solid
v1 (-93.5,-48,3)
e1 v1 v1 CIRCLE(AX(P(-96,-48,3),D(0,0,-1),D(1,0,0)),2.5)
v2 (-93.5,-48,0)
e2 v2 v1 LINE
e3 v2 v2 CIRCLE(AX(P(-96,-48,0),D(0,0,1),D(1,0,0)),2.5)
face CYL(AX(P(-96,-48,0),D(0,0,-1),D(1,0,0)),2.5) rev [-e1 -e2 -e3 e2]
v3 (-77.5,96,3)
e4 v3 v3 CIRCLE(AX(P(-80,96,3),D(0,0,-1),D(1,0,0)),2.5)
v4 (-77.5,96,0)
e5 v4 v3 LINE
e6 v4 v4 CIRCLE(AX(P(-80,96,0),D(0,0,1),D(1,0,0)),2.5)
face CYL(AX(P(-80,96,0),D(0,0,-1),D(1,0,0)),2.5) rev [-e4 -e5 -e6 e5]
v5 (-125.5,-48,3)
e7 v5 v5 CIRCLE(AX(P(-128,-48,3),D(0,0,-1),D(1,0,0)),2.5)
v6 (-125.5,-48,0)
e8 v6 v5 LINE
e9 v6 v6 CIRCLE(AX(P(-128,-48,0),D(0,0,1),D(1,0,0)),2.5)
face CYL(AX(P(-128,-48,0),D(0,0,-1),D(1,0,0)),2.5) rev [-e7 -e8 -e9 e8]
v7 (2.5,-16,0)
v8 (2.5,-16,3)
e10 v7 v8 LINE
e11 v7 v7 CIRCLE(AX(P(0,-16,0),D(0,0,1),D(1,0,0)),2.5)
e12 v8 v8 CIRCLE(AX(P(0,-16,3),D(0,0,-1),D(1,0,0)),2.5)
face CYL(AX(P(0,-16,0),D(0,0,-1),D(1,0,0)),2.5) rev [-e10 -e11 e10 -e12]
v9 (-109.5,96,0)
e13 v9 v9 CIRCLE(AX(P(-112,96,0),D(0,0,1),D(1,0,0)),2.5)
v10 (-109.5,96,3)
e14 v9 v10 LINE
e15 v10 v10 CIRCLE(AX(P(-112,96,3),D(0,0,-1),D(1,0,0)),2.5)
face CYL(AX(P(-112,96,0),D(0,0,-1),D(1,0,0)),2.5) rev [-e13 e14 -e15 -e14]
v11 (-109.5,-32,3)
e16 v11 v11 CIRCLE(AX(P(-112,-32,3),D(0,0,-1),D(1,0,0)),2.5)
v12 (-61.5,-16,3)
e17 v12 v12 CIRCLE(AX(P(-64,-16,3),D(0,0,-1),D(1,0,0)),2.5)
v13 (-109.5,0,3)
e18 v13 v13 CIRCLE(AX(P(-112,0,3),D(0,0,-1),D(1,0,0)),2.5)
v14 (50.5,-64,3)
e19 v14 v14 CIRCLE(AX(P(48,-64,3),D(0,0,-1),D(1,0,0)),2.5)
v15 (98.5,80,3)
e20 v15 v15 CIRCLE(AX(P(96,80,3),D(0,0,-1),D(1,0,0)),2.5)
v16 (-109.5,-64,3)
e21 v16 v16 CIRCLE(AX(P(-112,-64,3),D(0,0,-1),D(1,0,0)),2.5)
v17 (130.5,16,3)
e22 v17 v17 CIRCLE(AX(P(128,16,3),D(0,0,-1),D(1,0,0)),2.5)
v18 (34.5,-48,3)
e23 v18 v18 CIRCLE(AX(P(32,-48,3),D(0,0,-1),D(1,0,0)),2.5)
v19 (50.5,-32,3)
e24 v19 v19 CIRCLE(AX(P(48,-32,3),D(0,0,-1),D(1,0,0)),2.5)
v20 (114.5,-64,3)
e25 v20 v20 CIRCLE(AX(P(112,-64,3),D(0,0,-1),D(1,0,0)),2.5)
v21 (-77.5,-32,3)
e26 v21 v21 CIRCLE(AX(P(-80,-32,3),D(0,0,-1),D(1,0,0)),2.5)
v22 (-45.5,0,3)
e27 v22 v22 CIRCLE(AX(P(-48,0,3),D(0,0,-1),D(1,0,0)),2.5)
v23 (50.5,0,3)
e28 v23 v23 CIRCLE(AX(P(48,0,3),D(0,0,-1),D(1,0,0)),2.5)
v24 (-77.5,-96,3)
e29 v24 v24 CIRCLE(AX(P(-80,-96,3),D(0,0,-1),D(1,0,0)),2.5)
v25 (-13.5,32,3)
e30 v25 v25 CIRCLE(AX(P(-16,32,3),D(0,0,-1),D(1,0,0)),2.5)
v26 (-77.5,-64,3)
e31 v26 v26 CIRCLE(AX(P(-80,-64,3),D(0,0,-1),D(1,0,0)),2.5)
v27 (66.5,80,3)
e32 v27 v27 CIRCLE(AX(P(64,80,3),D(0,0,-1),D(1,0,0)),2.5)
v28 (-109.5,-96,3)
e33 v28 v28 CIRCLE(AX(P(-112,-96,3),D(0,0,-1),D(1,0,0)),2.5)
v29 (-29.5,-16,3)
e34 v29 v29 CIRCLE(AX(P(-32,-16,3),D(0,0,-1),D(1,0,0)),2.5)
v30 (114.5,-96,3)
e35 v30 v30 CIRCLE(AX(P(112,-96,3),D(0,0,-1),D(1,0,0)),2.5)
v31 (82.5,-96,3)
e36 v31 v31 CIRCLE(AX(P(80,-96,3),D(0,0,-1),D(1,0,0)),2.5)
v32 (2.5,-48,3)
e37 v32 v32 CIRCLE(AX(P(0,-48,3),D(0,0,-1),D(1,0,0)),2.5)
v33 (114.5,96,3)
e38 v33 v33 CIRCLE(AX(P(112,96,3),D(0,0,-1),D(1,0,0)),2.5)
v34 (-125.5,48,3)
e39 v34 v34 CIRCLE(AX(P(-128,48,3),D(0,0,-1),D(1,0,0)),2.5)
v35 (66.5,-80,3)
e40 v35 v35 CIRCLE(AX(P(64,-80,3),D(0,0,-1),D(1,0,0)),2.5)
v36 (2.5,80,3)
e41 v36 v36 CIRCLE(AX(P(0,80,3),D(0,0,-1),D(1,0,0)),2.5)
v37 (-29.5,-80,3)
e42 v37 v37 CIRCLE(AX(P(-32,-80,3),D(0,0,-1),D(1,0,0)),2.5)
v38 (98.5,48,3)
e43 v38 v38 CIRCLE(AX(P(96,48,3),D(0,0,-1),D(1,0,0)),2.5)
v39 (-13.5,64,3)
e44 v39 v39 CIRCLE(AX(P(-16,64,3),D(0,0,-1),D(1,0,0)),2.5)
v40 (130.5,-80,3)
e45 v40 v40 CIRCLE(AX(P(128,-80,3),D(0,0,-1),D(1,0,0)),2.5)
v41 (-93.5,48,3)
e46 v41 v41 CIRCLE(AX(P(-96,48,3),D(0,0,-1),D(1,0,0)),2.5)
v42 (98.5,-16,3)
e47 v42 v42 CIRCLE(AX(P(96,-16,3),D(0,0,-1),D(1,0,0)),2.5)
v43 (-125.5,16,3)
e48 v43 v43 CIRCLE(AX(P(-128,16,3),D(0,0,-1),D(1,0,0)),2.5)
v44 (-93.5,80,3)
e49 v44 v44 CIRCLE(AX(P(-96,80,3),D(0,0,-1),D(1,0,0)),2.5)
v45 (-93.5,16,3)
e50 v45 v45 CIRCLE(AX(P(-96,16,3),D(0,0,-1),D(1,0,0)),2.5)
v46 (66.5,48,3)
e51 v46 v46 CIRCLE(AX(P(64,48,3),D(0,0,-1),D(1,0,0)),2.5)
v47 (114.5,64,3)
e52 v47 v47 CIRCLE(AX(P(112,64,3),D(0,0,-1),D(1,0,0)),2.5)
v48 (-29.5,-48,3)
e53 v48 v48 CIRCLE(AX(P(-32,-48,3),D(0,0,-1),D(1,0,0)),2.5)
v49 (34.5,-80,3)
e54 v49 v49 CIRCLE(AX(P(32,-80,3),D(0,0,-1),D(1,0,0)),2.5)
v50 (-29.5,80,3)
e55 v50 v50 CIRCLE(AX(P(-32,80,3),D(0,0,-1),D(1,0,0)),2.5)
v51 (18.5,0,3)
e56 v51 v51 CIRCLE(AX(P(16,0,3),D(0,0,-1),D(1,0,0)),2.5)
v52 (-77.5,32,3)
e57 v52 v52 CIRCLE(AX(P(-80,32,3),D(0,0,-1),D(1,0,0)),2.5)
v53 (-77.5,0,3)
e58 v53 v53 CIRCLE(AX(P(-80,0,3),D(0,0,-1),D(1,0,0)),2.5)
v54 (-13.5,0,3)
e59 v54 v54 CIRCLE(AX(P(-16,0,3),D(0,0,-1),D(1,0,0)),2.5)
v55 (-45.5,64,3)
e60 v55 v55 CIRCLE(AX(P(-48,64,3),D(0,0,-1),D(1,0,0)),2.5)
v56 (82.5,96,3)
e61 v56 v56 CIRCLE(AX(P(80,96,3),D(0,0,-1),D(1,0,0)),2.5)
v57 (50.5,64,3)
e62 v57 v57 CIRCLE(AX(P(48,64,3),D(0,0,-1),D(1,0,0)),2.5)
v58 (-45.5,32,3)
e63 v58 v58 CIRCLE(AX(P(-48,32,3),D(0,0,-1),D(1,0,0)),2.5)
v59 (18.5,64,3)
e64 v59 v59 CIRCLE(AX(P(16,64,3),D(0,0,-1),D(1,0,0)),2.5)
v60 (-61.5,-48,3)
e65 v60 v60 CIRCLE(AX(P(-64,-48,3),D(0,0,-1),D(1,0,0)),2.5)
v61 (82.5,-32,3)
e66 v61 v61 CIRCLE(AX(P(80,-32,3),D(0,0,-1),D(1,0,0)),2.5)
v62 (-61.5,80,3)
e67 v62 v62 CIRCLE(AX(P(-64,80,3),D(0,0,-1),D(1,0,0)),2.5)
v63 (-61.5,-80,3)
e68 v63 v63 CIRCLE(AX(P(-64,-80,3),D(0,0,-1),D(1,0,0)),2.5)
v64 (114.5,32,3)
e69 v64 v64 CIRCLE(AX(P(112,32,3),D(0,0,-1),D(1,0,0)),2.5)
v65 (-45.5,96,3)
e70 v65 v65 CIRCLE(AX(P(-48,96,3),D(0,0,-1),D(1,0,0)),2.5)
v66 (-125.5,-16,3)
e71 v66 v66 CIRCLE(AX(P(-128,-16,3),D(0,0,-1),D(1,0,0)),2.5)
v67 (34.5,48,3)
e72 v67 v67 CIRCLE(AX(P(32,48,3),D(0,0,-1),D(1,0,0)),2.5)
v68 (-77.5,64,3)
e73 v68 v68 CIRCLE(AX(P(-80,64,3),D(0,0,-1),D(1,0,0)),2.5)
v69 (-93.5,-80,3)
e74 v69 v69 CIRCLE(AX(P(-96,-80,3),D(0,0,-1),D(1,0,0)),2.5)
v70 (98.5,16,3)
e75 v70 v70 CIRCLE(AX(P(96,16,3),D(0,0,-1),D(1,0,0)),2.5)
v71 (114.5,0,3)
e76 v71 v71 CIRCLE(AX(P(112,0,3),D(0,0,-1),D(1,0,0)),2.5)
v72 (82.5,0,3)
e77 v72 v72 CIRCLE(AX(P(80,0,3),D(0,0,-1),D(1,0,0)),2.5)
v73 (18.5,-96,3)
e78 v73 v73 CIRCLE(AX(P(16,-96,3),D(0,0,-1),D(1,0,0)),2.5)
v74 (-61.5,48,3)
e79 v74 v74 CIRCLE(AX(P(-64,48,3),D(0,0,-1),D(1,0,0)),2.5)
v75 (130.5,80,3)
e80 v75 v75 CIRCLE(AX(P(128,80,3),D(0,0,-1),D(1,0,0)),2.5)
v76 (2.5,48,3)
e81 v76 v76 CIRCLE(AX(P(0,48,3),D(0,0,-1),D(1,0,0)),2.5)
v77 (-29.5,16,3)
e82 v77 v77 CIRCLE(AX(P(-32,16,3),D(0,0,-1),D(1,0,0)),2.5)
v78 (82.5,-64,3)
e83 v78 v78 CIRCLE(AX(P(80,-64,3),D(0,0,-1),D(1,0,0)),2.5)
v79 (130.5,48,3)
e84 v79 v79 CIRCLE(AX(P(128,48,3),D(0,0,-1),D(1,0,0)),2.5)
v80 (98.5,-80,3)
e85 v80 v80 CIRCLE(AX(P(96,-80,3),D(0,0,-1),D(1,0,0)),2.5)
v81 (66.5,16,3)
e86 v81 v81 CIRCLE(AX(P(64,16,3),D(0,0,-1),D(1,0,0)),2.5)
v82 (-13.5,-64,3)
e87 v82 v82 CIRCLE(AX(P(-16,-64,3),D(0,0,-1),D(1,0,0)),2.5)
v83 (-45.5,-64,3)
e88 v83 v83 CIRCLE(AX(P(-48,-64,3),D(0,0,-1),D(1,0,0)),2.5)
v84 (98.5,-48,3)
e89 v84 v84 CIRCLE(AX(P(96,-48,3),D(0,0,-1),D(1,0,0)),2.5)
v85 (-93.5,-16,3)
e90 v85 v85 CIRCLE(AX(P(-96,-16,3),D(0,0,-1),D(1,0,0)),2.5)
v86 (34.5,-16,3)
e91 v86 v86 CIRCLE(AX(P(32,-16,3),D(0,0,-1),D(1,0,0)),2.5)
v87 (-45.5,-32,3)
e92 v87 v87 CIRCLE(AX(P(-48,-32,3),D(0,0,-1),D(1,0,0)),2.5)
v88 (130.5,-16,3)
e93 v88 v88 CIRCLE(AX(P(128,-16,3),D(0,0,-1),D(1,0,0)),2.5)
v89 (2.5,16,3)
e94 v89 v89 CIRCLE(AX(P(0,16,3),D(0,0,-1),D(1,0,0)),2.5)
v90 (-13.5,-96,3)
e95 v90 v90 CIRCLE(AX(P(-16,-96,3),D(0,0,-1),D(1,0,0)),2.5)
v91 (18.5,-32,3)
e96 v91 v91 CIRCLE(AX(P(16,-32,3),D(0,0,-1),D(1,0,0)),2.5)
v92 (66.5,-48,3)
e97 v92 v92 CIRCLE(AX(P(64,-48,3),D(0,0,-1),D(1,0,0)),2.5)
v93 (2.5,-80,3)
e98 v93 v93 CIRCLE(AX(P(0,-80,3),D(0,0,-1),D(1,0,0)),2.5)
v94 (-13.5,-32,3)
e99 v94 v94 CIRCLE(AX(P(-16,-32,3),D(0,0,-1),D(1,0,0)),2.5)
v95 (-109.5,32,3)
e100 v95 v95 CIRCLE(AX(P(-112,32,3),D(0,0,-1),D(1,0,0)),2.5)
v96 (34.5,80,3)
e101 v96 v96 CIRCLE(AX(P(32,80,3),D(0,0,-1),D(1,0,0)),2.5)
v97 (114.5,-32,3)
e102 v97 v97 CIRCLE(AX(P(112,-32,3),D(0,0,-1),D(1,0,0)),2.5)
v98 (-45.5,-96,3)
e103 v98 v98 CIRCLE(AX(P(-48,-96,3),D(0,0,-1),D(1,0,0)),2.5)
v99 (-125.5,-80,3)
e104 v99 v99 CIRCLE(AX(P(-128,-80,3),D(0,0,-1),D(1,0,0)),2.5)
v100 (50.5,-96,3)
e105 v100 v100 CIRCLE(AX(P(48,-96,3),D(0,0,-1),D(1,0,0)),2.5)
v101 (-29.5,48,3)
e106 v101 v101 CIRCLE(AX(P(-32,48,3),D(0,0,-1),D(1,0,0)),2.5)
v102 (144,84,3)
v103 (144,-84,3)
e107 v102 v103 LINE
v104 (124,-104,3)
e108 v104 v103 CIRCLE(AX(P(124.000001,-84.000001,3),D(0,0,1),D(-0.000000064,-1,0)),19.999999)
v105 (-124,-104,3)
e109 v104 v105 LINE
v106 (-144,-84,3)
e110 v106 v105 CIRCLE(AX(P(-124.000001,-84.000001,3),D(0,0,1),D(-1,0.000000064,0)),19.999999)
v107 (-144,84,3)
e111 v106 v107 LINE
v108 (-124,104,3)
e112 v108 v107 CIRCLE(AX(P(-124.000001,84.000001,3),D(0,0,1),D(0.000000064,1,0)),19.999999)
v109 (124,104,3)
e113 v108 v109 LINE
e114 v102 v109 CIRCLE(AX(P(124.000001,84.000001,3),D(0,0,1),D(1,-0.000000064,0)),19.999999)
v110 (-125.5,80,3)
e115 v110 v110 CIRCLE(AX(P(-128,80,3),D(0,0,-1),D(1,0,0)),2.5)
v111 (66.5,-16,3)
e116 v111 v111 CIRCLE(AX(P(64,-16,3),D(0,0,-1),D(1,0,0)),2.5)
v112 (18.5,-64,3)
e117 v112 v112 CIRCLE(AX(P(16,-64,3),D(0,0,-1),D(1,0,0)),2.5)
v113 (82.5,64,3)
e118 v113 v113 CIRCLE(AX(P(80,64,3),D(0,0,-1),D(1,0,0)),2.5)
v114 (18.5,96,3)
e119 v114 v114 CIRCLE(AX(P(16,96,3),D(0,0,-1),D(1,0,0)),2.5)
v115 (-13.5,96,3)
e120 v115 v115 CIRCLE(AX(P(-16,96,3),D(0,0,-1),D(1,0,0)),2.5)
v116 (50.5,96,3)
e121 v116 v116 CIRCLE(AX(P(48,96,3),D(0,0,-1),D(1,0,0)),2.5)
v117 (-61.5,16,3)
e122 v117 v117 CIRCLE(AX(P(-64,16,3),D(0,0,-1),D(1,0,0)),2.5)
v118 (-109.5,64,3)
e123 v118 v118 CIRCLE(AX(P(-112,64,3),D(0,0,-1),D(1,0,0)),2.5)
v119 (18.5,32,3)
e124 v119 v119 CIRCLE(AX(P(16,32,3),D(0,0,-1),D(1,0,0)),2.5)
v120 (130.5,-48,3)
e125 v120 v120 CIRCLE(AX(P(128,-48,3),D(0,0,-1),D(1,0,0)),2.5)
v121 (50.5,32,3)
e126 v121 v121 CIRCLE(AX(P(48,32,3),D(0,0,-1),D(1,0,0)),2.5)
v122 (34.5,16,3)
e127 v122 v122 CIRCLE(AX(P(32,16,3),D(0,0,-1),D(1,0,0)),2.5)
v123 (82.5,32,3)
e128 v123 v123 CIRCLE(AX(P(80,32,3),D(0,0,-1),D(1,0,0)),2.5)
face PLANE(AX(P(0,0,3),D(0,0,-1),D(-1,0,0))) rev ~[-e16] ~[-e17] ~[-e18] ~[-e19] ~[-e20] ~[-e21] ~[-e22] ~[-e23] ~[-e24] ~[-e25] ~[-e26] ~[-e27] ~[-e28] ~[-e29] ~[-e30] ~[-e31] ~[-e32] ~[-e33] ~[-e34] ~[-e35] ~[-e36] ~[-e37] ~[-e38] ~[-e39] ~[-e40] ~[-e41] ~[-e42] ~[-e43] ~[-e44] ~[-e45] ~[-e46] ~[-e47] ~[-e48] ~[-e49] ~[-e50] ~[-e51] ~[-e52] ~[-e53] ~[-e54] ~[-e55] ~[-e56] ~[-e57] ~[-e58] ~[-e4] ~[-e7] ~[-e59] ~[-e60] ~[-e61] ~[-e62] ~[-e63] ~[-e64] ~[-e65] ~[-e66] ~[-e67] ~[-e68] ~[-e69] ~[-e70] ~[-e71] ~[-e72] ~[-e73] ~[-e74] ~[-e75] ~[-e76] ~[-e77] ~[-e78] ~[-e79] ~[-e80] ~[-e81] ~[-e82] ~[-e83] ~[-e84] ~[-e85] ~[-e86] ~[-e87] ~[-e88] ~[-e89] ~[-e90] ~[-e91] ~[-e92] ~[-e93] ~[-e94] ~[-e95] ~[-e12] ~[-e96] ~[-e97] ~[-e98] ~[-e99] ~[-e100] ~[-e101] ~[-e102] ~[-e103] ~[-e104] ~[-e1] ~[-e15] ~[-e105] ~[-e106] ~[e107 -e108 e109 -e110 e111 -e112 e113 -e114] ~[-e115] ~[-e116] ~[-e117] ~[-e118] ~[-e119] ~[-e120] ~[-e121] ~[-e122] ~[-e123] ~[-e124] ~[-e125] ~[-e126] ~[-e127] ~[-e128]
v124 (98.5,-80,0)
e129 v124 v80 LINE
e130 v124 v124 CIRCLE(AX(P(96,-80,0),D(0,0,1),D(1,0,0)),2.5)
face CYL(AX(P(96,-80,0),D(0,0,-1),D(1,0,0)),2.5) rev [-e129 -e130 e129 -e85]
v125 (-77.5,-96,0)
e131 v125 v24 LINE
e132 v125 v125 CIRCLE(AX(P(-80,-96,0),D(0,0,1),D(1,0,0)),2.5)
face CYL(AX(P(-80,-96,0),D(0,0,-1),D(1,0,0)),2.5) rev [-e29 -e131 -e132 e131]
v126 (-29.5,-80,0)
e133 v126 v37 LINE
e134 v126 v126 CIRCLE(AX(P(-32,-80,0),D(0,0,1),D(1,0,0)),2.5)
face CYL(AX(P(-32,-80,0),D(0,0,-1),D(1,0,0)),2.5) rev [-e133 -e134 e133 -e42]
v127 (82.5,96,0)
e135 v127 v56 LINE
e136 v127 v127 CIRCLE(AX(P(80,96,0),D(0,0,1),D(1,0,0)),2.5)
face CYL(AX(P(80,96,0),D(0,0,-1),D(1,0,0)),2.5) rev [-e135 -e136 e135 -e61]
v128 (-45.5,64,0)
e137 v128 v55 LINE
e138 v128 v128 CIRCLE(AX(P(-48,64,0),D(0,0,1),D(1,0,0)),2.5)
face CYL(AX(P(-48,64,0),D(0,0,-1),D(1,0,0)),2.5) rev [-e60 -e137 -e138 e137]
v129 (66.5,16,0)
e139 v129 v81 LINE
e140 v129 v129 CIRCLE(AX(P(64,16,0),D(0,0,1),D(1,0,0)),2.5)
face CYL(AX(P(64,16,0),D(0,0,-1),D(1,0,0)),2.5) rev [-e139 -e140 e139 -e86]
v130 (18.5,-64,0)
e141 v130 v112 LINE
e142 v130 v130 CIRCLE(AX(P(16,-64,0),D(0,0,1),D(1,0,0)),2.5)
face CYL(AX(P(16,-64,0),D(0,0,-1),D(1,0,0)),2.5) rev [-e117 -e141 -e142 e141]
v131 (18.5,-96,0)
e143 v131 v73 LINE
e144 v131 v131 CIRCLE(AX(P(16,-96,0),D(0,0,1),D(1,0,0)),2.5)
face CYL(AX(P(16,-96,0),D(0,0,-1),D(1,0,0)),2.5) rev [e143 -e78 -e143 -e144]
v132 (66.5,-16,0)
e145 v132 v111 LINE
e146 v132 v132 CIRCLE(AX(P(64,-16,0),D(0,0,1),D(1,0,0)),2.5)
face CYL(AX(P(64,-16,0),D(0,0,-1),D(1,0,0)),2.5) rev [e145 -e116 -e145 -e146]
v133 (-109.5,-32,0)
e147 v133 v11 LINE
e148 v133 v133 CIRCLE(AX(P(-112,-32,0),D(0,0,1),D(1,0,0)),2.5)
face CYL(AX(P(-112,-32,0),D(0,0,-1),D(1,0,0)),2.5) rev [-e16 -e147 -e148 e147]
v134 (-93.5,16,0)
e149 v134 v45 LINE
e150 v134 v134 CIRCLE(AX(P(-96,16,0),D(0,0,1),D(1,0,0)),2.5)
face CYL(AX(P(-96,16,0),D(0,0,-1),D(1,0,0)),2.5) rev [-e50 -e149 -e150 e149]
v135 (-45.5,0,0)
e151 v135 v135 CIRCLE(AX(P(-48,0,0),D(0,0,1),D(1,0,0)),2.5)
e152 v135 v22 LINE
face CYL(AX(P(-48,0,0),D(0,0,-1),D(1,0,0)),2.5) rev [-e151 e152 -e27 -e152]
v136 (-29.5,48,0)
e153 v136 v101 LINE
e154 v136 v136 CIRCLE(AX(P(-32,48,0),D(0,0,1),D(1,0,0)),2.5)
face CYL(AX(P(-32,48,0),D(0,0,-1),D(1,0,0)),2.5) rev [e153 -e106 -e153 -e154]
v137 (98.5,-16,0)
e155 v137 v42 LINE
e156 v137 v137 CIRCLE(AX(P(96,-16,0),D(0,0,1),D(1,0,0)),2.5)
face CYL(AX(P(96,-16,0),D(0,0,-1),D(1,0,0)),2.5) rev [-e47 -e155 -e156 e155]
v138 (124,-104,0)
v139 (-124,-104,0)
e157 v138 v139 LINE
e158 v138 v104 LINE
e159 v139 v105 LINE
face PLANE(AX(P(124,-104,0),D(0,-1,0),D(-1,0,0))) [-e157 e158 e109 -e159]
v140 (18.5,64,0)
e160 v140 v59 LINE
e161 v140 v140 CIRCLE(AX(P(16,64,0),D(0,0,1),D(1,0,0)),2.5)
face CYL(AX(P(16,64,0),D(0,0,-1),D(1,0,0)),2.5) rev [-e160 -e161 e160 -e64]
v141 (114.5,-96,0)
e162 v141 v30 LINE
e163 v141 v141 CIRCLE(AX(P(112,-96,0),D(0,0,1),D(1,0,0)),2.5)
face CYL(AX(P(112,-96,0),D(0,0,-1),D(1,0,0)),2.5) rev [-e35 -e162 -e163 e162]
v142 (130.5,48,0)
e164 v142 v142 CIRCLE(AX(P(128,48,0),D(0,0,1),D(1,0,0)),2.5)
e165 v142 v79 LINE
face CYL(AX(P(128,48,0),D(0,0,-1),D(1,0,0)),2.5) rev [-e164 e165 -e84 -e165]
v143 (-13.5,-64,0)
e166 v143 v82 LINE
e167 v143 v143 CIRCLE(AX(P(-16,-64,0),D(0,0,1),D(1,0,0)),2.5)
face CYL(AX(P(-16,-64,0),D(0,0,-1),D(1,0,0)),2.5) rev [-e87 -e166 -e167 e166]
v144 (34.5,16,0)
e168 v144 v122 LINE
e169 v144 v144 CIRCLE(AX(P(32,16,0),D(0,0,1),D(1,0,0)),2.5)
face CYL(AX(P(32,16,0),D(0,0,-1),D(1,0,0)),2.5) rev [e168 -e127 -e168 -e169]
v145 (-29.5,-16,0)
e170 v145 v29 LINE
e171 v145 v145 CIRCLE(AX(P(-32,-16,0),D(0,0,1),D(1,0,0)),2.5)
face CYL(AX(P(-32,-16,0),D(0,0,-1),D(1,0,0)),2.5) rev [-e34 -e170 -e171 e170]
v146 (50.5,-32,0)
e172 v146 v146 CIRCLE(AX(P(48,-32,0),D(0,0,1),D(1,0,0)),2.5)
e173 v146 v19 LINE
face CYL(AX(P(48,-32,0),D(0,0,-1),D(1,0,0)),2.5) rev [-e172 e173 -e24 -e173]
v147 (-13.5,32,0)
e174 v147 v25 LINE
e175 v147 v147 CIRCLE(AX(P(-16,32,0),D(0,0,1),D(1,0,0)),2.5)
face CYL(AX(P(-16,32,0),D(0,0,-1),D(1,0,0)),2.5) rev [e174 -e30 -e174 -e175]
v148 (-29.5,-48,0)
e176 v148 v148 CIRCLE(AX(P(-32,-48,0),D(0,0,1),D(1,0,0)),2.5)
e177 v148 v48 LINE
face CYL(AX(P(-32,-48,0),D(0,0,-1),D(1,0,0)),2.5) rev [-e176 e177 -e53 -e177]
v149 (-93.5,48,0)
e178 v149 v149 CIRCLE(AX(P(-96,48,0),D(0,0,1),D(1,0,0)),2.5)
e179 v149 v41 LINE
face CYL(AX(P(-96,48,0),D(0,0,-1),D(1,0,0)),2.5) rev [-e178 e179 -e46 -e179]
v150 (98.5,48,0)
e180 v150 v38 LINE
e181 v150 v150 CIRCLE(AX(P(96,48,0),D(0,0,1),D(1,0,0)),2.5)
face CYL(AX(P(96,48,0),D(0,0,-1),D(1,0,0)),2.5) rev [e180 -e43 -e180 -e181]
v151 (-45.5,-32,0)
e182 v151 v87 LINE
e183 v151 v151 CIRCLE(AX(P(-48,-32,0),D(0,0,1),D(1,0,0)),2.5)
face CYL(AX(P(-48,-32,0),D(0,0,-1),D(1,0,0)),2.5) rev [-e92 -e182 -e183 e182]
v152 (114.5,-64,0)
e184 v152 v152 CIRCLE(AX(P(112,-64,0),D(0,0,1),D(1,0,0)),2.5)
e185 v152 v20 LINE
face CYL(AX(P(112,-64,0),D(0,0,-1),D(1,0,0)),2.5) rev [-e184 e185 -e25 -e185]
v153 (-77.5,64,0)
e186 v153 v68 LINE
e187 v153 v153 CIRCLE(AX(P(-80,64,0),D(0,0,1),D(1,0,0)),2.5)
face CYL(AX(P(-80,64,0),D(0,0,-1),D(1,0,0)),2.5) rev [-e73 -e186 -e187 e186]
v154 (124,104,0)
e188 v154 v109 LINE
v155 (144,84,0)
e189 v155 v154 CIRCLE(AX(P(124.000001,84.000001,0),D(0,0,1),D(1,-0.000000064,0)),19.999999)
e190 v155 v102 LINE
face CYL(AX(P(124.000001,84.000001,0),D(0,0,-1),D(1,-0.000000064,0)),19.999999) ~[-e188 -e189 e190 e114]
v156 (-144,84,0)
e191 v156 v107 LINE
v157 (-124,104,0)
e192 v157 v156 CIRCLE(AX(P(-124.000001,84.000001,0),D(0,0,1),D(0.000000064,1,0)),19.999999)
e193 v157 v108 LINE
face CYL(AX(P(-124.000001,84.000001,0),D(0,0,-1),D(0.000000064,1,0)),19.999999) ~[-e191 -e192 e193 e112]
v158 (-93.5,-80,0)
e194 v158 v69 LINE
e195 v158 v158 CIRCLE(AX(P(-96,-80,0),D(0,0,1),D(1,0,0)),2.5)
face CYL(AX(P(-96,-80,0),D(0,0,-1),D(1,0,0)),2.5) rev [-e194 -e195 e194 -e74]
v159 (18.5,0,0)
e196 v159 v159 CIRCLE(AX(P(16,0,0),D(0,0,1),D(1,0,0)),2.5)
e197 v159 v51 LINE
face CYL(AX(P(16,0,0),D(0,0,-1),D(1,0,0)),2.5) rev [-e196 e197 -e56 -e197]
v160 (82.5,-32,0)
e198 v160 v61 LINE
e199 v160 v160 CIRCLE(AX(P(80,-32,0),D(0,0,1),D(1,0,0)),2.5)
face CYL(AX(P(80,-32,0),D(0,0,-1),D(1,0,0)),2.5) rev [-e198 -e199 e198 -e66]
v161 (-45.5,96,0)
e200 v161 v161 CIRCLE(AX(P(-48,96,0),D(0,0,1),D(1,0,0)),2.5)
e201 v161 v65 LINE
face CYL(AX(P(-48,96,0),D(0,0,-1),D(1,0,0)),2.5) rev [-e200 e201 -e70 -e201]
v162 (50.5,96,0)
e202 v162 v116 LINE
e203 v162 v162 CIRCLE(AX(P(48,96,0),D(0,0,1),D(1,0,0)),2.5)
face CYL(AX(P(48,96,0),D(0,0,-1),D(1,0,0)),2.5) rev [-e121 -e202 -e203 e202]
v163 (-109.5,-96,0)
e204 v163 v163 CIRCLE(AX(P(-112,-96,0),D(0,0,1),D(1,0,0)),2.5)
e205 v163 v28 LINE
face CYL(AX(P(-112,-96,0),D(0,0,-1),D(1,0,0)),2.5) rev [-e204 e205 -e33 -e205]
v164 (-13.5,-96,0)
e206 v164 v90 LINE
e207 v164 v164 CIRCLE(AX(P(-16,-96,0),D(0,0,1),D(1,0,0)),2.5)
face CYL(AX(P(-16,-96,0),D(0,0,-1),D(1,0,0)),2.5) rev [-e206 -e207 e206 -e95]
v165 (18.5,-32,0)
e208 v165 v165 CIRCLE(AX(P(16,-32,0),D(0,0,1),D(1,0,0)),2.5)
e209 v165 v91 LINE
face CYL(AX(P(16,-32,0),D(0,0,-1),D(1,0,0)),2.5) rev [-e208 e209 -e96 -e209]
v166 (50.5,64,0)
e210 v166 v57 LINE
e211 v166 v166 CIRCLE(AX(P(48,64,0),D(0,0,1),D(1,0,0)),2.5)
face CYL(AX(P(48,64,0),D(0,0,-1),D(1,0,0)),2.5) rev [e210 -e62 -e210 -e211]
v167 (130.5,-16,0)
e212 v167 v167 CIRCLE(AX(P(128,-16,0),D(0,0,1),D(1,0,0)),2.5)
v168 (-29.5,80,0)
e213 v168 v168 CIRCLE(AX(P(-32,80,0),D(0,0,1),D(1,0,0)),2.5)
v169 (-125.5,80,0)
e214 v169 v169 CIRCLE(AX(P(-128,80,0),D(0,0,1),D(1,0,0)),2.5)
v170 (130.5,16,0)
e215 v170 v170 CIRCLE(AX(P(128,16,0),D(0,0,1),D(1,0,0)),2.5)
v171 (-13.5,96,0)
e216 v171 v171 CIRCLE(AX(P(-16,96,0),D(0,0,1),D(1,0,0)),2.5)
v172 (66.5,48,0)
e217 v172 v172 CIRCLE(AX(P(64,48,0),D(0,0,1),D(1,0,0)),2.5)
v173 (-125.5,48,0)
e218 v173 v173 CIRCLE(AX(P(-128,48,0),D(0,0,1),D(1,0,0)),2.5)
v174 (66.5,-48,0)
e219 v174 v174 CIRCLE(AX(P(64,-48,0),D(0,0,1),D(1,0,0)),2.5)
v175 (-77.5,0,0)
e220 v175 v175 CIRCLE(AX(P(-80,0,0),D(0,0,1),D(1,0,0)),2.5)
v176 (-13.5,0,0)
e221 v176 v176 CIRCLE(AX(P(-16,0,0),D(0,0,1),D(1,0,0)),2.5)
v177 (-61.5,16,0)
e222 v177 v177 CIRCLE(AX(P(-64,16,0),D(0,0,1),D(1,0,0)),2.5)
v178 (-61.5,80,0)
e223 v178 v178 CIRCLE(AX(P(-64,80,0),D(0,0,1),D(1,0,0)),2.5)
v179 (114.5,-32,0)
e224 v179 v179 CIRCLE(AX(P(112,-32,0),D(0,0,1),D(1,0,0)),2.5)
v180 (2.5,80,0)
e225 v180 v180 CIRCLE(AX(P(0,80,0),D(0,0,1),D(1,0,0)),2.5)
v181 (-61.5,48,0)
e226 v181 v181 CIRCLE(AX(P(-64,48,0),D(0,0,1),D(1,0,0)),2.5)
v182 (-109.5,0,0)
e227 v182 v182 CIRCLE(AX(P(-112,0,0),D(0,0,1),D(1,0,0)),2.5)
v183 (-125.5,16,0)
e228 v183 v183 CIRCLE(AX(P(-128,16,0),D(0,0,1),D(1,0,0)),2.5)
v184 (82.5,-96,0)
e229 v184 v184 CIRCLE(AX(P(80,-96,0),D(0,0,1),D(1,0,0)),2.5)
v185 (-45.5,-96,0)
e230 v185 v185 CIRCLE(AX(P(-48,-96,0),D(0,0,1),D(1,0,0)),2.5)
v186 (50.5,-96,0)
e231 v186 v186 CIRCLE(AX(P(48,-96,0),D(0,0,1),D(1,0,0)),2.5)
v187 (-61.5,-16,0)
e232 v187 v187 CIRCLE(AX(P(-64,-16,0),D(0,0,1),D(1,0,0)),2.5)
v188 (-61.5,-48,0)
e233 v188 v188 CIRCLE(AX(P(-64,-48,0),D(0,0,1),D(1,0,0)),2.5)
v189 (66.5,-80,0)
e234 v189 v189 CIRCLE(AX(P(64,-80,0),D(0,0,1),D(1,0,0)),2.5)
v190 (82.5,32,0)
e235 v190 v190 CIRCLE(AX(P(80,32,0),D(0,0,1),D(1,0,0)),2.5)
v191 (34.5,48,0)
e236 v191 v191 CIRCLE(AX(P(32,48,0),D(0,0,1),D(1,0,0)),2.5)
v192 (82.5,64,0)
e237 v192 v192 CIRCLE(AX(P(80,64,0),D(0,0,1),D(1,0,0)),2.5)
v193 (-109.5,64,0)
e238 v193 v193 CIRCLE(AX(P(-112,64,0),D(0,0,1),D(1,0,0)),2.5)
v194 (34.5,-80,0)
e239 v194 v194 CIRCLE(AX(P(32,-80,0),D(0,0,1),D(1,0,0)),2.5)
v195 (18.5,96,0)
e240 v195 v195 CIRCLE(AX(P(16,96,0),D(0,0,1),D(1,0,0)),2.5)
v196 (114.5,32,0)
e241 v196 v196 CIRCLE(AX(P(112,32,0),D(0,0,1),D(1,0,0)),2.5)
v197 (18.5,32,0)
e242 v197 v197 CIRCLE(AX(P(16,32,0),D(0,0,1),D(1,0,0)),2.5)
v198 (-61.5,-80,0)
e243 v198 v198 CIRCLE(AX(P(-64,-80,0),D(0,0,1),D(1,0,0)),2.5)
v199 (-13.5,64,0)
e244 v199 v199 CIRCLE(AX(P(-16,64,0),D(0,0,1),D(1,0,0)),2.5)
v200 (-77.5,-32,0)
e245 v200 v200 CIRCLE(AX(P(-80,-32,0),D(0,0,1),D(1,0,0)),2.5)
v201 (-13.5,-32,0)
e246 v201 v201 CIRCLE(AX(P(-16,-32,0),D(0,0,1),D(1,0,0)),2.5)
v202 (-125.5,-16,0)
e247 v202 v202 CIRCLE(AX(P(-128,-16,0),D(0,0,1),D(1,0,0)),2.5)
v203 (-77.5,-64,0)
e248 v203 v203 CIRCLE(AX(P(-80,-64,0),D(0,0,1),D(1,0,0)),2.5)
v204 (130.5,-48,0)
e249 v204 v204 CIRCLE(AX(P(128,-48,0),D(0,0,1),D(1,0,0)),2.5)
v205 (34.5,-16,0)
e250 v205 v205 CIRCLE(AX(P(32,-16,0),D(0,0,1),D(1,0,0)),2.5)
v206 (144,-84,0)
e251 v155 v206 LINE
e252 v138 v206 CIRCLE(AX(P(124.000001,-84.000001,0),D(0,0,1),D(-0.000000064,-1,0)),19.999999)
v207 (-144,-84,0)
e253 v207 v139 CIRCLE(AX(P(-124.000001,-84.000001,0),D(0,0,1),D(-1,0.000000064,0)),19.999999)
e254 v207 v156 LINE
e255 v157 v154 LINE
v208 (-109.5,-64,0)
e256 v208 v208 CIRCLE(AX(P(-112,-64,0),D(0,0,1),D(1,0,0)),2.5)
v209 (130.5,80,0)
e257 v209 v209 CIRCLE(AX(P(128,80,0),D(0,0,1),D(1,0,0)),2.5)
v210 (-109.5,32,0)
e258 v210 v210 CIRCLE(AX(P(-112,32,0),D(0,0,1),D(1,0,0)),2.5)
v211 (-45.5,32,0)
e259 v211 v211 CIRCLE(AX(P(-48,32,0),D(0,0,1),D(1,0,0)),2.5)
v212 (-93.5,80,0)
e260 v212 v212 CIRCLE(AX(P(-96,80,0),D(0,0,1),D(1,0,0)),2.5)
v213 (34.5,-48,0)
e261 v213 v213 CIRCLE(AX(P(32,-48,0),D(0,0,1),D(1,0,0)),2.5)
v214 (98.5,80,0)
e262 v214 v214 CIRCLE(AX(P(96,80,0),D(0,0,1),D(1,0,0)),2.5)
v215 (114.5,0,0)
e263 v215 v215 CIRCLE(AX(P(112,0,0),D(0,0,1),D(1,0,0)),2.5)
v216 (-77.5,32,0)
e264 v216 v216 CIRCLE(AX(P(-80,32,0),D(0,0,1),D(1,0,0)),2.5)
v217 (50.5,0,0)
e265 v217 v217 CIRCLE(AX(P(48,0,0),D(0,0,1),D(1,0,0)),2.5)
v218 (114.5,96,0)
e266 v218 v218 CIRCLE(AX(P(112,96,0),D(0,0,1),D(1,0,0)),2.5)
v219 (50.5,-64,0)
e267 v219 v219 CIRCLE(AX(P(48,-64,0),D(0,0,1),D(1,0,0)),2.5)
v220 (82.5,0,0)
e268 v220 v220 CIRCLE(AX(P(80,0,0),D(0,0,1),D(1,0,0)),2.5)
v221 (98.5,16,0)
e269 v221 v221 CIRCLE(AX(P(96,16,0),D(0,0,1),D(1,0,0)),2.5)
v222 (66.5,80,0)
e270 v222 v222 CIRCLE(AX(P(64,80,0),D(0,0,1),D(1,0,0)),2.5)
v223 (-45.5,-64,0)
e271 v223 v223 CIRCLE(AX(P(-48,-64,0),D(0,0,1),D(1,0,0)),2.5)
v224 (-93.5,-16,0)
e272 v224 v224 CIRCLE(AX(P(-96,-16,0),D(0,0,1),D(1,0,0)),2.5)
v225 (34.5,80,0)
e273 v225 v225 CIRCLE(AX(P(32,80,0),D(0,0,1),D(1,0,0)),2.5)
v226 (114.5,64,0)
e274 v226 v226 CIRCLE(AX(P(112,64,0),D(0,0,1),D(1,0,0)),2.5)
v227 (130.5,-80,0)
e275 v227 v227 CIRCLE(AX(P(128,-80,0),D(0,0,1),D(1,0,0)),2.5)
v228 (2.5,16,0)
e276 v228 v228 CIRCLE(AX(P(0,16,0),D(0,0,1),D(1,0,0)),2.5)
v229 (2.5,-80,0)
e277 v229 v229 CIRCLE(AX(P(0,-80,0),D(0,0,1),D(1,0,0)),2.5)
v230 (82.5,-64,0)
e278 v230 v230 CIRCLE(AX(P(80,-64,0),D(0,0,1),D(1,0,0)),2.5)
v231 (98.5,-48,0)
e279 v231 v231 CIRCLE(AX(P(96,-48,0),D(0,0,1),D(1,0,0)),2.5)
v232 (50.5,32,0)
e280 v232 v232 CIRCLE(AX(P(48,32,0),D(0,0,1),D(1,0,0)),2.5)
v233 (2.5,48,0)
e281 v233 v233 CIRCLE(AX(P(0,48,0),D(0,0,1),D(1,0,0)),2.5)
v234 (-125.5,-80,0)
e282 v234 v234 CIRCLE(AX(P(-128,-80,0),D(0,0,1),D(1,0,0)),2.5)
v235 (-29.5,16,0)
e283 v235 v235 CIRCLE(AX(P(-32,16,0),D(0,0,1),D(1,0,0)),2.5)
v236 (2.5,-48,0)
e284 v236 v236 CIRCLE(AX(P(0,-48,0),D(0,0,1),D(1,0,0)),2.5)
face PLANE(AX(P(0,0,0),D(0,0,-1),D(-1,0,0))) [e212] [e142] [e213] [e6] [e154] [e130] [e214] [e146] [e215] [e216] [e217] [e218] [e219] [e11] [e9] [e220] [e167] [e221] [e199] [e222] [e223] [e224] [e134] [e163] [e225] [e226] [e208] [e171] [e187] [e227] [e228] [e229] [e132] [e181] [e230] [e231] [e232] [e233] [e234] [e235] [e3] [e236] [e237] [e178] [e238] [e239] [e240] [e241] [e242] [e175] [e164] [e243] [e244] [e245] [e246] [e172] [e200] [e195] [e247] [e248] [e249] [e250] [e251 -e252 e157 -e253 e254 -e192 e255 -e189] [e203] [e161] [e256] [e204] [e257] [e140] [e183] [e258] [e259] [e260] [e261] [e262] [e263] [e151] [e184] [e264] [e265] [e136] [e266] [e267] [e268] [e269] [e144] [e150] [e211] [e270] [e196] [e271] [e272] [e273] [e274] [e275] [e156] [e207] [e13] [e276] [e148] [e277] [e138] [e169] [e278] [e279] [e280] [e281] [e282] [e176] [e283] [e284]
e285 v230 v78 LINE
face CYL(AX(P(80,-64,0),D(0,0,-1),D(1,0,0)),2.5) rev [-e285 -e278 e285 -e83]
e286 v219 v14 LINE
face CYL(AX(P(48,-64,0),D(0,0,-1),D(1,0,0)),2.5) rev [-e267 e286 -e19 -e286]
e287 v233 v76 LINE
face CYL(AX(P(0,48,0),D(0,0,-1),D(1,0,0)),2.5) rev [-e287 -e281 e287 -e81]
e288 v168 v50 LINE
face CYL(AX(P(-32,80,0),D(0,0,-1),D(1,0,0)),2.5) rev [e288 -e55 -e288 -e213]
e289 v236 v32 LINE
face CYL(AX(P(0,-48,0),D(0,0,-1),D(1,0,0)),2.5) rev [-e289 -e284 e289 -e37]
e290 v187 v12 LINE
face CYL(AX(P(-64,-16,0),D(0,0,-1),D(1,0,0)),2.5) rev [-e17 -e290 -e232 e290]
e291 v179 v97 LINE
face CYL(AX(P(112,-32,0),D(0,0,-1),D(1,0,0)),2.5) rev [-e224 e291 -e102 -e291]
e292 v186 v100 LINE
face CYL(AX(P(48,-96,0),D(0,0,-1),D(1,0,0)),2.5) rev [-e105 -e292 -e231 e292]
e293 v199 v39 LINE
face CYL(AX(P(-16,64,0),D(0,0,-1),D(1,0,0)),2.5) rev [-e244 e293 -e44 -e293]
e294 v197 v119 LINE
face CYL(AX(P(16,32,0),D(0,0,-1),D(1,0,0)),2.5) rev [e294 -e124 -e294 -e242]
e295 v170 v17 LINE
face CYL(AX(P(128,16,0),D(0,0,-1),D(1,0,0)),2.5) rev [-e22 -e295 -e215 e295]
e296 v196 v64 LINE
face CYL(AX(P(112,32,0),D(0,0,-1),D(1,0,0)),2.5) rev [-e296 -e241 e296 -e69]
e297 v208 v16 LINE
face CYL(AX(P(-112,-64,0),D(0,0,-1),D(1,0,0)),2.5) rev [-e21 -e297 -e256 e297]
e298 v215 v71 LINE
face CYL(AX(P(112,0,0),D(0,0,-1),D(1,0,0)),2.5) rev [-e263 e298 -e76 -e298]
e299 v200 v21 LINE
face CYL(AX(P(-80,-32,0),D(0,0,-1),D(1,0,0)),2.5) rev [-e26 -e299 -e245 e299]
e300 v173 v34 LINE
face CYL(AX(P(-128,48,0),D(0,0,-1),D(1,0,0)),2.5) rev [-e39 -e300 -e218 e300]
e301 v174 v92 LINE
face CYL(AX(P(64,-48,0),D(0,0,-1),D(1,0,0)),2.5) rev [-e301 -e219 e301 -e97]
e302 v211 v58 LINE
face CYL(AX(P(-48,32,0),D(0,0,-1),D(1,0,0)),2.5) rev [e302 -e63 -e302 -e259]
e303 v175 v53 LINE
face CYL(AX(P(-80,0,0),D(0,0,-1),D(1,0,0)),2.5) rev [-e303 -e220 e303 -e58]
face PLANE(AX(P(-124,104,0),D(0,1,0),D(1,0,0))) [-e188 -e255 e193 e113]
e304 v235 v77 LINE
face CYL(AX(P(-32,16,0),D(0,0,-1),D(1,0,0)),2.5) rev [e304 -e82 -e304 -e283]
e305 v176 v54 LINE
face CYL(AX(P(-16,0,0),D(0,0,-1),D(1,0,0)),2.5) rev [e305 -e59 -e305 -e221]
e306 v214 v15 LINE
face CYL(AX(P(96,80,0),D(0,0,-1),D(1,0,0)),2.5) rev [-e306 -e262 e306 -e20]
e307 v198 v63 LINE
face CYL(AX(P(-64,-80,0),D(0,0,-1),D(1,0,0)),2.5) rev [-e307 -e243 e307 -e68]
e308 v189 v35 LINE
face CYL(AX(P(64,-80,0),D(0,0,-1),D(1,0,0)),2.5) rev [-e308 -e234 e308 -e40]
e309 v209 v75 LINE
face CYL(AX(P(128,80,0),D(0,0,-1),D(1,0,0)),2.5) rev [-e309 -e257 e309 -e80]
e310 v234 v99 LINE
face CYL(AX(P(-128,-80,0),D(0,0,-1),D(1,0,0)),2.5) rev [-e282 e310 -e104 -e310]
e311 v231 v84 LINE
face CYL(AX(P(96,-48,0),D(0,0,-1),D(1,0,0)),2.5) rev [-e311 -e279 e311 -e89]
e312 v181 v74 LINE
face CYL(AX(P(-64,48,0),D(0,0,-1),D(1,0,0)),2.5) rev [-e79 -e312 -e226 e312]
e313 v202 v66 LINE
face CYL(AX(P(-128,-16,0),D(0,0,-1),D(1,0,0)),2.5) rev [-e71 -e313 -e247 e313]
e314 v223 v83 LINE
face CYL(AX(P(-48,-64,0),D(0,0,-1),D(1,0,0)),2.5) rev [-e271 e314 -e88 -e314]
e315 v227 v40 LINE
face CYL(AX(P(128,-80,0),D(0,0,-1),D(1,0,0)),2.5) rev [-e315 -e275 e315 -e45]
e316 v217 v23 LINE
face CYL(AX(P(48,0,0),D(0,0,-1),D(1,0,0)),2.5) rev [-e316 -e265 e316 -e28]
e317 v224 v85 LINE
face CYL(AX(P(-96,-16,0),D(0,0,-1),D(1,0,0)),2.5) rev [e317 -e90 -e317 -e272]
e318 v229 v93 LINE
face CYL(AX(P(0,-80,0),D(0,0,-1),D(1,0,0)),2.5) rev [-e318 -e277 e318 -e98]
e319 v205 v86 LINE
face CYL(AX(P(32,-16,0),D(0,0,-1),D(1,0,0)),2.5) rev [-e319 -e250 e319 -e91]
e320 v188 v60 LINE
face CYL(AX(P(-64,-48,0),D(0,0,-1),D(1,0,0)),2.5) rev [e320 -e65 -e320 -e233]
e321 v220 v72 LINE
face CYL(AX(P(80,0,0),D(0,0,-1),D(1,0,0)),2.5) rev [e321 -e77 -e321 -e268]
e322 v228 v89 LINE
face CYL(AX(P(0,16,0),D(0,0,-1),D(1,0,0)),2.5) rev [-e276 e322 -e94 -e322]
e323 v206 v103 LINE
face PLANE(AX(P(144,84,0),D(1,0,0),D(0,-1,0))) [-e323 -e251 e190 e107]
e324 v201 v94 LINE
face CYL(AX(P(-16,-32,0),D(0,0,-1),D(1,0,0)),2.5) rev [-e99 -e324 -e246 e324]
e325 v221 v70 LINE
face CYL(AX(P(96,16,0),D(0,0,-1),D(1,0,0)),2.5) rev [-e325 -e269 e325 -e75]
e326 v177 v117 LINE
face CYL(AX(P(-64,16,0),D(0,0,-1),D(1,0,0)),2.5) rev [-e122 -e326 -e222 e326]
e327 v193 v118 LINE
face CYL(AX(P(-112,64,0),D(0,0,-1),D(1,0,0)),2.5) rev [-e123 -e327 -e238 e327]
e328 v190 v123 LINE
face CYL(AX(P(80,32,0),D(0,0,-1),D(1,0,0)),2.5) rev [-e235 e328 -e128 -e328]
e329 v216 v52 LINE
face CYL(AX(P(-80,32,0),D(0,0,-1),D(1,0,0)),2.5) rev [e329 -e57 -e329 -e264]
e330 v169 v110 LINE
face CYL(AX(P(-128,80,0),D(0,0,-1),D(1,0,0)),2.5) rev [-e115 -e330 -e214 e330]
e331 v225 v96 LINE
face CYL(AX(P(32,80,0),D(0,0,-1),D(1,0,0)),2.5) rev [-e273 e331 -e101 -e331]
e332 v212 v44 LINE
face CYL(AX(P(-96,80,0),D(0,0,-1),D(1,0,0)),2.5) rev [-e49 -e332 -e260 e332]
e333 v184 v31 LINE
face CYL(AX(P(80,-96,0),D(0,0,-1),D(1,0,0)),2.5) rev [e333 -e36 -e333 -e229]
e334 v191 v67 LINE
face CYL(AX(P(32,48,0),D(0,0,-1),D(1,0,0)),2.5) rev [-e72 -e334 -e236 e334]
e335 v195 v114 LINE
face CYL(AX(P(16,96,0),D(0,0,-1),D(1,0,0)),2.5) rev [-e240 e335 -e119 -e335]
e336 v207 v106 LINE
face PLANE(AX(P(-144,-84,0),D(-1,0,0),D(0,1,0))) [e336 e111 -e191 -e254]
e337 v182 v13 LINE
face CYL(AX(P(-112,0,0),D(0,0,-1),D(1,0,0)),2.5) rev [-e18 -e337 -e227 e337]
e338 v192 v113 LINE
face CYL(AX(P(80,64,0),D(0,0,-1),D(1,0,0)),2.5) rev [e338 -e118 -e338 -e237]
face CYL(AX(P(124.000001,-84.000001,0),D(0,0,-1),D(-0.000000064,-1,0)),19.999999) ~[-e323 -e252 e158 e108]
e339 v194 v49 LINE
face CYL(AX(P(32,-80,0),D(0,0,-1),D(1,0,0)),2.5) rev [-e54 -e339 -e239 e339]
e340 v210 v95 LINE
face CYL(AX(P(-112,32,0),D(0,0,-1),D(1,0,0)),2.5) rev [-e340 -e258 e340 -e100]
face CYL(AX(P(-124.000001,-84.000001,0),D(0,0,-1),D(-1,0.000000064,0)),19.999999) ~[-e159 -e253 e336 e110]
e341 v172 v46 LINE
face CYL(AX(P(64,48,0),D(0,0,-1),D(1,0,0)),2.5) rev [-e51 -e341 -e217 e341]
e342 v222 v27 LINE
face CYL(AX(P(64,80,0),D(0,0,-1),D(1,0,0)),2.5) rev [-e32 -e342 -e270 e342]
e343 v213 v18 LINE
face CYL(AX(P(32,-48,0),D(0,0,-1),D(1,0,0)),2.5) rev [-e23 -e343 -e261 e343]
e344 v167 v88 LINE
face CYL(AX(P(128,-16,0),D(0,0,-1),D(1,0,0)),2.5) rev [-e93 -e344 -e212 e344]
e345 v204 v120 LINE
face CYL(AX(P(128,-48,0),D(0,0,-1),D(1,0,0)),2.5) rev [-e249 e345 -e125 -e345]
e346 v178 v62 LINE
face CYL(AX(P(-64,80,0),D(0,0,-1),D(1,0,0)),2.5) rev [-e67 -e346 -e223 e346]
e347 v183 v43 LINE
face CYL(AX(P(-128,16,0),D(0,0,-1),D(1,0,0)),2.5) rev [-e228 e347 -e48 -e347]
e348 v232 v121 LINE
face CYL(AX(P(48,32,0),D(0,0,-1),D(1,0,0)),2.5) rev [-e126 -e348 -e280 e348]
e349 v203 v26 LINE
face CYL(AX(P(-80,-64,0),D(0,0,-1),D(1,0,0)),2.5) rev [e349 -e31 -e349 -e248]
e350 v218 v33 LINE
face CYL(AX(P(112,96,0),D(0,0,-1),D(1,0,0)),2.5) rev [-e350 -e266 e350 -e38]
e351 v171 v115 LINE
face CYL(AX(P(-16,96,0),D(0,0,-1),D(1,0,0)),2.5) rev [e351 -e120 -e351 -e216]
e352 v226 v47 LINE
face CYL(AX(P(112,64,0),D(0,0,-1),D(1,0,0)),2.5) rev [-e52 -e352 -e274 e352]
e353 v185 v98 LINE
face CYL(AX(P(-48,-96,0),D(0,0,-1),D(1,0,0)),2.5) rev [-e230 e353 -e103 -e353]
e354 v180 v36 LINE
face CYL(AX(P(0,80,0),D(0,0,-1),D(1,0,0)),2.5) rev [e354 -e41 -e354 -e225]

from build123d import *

# Parameters (mm, degrees)
PAD_DEPTH                        = 3
SKETCH001_R                      = 2.5
HOLE_DEPTH                       = 713.541639
SKETCH001_LINEARPATTERN_2_R      = 2.5
HOLE_LINEARPATTERN_2_DEPTH       = 713.541639
SKETCH001_LINEARPATTERN_3_R      = 2.5
HOLE_LINEARPATTERN_3_DEPTH       = 713.541639
SKETCH001_LINEARPATTERN_4_R      = 2.5
HOLE_LINEARPATTERN_4_DEPTH       = 713.541639
SKETCH001_LINEARPATTERN_5_R      = 2.5
HOLE_LINEARPATTERN_5_DEPTH       = 713.541639
SKETCH001_LINEARPATTERN_6_R      = 2.5
HOLE_LINEARPATTERN_6_DEPTH       = 713.541639
SKETCH001_LINEARPATTERN_7_R      = 2.5
HOLE_LINEARPATTERN_7_DEPTH       = 713.541639
SKETCH001_LINEARPATTERN_8_R      = 2.5
HOLE_LINEARPATTERN_8_DEPTH       = 713.541639
SKETCH001_LINEARPATTERN_9_R      = 2.5
HOLE_LINEARPATTERN_9_DEPTH       = 713.541639
LINEARPATTERN001_COUNT           = 6
LINEARPATTERN001_PITCH           = 32
SKETCH002_R                      = 2.5
HOLE001_DEPTH                    = 713.541639
SKETCH002_LINEARPATTERN002_2_R   = 2.5
HOLE001_LINEARPATTERN002_2_DEPTH = 713.541639
SKETCH002_LINEARPATTERN002_3_R   = 2.5
HOLE001_LINEARPATTERN002_3_DEPTH = 713.541639
SKETCH002_LINEARPATTERN002_4_R   = 2.5
HOLE001_LINEARPATTERN002_4_DEPTH = 713.541639
SKETCH002_LINEARPATTERN002_5_R   = 2.5
HOLE001_LINEARPATTERN002_5_DEPTH = 713.541639
SKETCH002_LINEARPATTERN002_6_R   = 2.5
HOLE001_LINEARPATTERN002_6_DEPTH = 713.541639
SKETCH002_LINEARPATTERN002_7_R   = 2.5
HOLE001_LINEARPATTERN002_7_DEPTH = 713.541639
SKETCH002_LINEARPATTERN002_8_R   = 2.5
HOLE001_LINEARPATTERN002_8_DEPTH = 713.541639
LINEARPATTERN003_COUNT           = 7
LINEARPATTERN003_PITCH           = 32


with BuildPart() as part:
    # Sketch → Pad (new body)
    with BuildSketch(Plane.XY):
        with BuildLine():
            Line((-124, 104), (124, 104))
            ThreePointArc((144, 84), (138.142136, 98.142136), (124, 104))
            Line((144, 84), (144, -84))
            ThreePointArc((124, -104), (138.142136, -98.142136), (144, -84))
            Line((124, -104), (-124, -104))
            ThreePointArc((-144, -84), (-138.142136, -98.142136), (-124, -104))
            Line((-144, -84), (-144, 84))
            ThreePointArc((-124, 104), (-138.142136, 98.142136), (-144, 84))
        make_face()
    extrude(amount=PAD_DEPTH)

    # Sketch001 → Hole (cut, through all)
    with BuildSketch(Plane.XY):
        with Locations((128, 80)):
            Circle(SKETCH001_R)
    hole = extrude(amount=HOLE_DEPTH, mode=Mode.SUBTRACT)

    # Sketch001 LinearPattern 2 → Hole LinearPattern 2 (cut, through all)
    with BuildSketch(Plane(origin=(-32, 0, 0), x_dir=(1, 0, 0), z_dir=(0, 0, 1))):
        with Locations((128, 80)):
            Circle(SKETCH001_LINEARPATTERN_2_R)
    hole_linearpattern_2 = extrude(amount=HOLE_LINEARPATTERN_2_DEPTH, mode=Mode.SUBTRACT)

    # Sketch001 LinearPattern 3 → Hole LinearPattern 3 (cut, through all)
    with BuildSketch(Plane(origin=(-64, 0, 0), x_dir=(1, 0, 0), z_dir=(0, 0, 1))):
        with Locations((128, 80)):
            Circle(SKETCH001_LINEARPATTERN_3_R)
    hole_linearpattern_3 = extrude(amount=HOLE_LINEARPATTERN_3_DEPTH, mode=Mode.SUBTRACT)

    # Sketch001 LinearPattern 4 → Hole LinearPattern 4 (cut, through all)
    with BuildSketch(Plane(origin=(-96, 0, 0), x_dir=(1, 0, 0), z_dir=(0, 0, 1))):
        with Locations((128, 80)):
            Circle(SKETCH001_LINEARPATTERN_4_R)
    hole_linearpattern_4 = extrude(amount=HOLE_LINEARPATTERN_4_DEPTH, mode=Mode.SUBTRACT)

    # Sketch001 LinearPattern 5 → Hole LinearPattern 5 (cut, through all)
    with BuildSketch(Plane(origin=(-128, 0, 0), x_dir=(1, 0, 0), z_dir=(0, 0, 1))):
        with Locations((128, 80)):
            Circle(SKETCH001_LINEARPATTERN_5_R)
    hole_linearpattern_5 = extrude(amount=HOLE_LINEARPATTERN_5_DEPTH, mode=Mode.SUBTRACT)

    # Sketch001 LinearPattern 6 → Hole LinearPattern 6 (cut, through all)
    with BuildSketch(Plane(origin=(-160, 0, 0), x_dir=(1, 0, 0), z_dir=(0, 0, 1))):
        with Locations((128, 80)):
            Circle(SKETCH001_LINEARPATTERN_6_R)
    hole_linearpattern_6 = extrude(amount=HOLE_LINEARPATTERN_6_DEPTH, mode=Mode.SUBTRACT)

    # Sketch001 LinearPattern 7 → Hole LinearPattern 7 (cut, through all)
    with BuildSketch(Plane(origin=(-192, 0, 0), x_dir=(1, 0, 0), z_dir=(0, 0, 1))):
        with Locations((128, 80)):
            Circle(SKETCH001_LINEARPATTERN_7_R)
    hole_linearpattern_7 = extrude(amount=HOLE_LINEARPATTERN_7_DEPTH, mode=Mode.SUBTRACT)

    # Sketch001 LinearPattern 8 → Hole LinearPattern 8 (cut, through all)
    with BuildSketch(Plane(origin=(-224, 0, 0), x_dir=(1, 0, 0), z_dir=(0, 0, 1))):
        with Locations((128, 80)):
            Circle(SKETCH001_LINEARPATTERN_8_R)
    hole_linearpattern_8 = extrude(amount=HOLE_LINEARPATTERN_8_DEPTH, mode=Mode.SUBTRACT)

    # Sketch001 LinearPattern 9 → Hole LinearPattern 9 (cut, through all)
    with BuildSketch(Plane(origin=(-256, 0, 0), x_dir=(1, 0, 0), z_dir=(0, 0, 1))):
        with Locations((128, 80)):
            Circle(SKETCH001_LINEARPATTERN_9_R)
    hole_linearpattern_9 = extrude(amount=HOLE_LINEARPATTERN_9_DEPTH, mode=Mode.SUBTRACT)

    # LinearPattern001: Hole, Hole LinearPattern 2, Hole LinearPattern 3, Hole LinearPattern 4, Hole LinearPattern 5, Hole LinearPattern 6, Hole LinearPattern 7, Hole LinearPattern 8, Hole LinearPattern 9 ×6
    with Locations(*[(0, -i * LINEARPATTERN001_PITCH, 0) for i in range(1, LINEARPATTERN001_COUNT)]):
        add(hole, mode=Mode.SUBTRACT)
        add(hole_linearpattern_2, mode=Mode.SUBTRACT)
        add(hole_linearpattern_3, mode=Mode.SUBTRACT)
        add(hole_linearpattern_4, mode=Mode.SUBTRACT)
        add(hole_linearpattern_5, mode=Mode.SUBTRACT)
        add(hole_linearpattern_6, mode=Mode.SUBTRACT)
        add(hole_linearpattern_7, mode=Mode.SUBTRACT)
        add(hole_linearpattern_8, mode=Mode.SUBTRACT)
        add(hole_linearpattern_9, mode=Mode.SUBTRACT)

    # Sketch002 → Hole001 (cut, through all)
    with BuildSketch(Plane.XY):
        with Locations((112, 96)):
            Circle(SKETCH002_R)
    hole001 = extrude(amount=HOLE001_DEPTH, mode=Mode.SUBTRACT)

    # Sketch002 LinearPattern002 2 → Hole001 LinearPattern002 2 (cut, through all)
    with BuildSketch(Plane(origin=(-32, 0, 0), x_dir=(1, 0, 0), z_dir=(0, 0, 1))):
        with Locations((112, 96)):
            Circle(SKETCH002_LINEARPATTERN002_2_R)
    hole001_linearpattern002_2 = extrude(amount=HOLE001_LINEARPATTERN002_2_DEPTH, mode=Mode.SUBTRACT)

    # Sketch002 LinearPattern002 3 → Hole001 LinearPattern002 3 (cut, through all)
    with BuildSketch(Plane(origin=(-64, 0, 0), x_dir=(1, 0, 0), z_dir=(0, 0, 1))):
        with Locations((112, 96)):
            Circle(SKETCH002_LINEARPATTERN002_3_R)
    hole001_linearpattern002_3 = extrude(amount=HOLE001_LINEARPATTERN002_3_DEPTH, mode=Mode.SUBTRACT)

    # Sketch002 LinearPattern002 4 → Hole001 LinearPattern002 4 (cut, through all)
    with BuildSketch(Plane(origin=(-96, 0, 0), x_dir=(1, 0, 0), z_dir=(0, 0, 1))):
        with Locations((112, 96)):
            Circle(SKETCH002_LINEARPATTERN002_4_R)
    hole001_linearpattern002_4 = extrude(amount=HOLE001_LINEARPATTERN002_4_DEPTH, mode=Mode.SUBTRACT)

    # Sketch002 LinearPattern002 5 → Hole001 LinearPattern002 5 (cut, through all)
    with BuildSketch(Plane(origin=(-128, 0, 0), x_dir=(1, 0, 0), z_dir=(0, 0, 1))):
        with Locations((112, 96)):
            Circle(SKETCH002_LINEARPATTERN002_5_R)
    hole001_linearpattern002_5 = extrude(amount=HOLE001_LINEARPATTERN002_5_DEPTH, mode=Mode.SUBTRACT)

    # Sketch002 LinearPattern002 6 → Hole001 LinearPattern002 6 (cut, through all)
    with BuildSketch(Plane(origin=(-160, 0, 0), x_dir=(1, 0, 0), z_dir=(0, 0, 1))):
        with Locations((112, 96)):
            Circle(SKETCH002_LINEARPATTERN002_6_R)
    hole001_linearpattern002_6 = extrude(amount=HOLE001_LINEARPATTERN002_6_DEPTH, mode=Mode.SUBTRACT)

    # Sketch002 LinearPattern002 7 → Hole001 LinearPattern002 7 (cut, through all)
    with BuildSketch(Plane(origin=(-192, 0, 0), x_dir=(1, 0, 0), z_dir=(0, 0, 1))):
        with Locations((112, 96)):
            Circle(SKETCH002_LINEARPATTERN002_7_R)
    hole001_linearpattern002_7 = extrude(amount=HOLE001_LINEARPATTERN002_7_DEPTH, mode=Mode.SUBTRACT)

    # Sketch002 LinearPattern002 8 → Hole001 LinearPattern002 8 (cut, through all)
    with BuildSketch(Plane(origin=(-224, 0, 0), x_dir=(1, 0, 0), z_dir=(0, 0, 1))):
        with Locations((112, 96)):
            Circle(SKETCH002_LINEARPATTERN002_8_R)
    hole001_linearpattern002_8 = extrude(amount=HOLE001_LINEARPATTERN002_8_DEPTH, mode=Mode.SUBTRACT)

    # LinearPattern003: Hole001, Hole001 LinearPattern002 2, Hole001 LinearPattern002 3, Hole001 LinearPattern002 4, Hole001 LinearPattern002 5, Hole001 LinearPattern002 6, Hole001 LinearPattern002 7, Hole001 LinearPattern002 8 ×7
    with Locations(*[(0, -i * LINEARPATTERN003_PITCH, 0) for i in range(1, LINEARPATTERN003_COUNT)]):
        add(hole001, mode=Mode.SUBTRACT)
        add(hole001_linearpattern002_2, mode=Mode.SUBTRACT)
        add(hole001_linearpattern002_3, mode=Mode.SUBTRACT)
        add(hole001_linearpattern002_4, mode=Mode.SUBTRACT)
        add(hole001_linearpattern002_5, mode=Mode.SUBTRACT)
        add(hole001_linearpattern002_6, mode=Mode.SUBTRACT)
        add(hole001_linearpattern002_7, mode=Mode.SUBTRACT)
        add(hole001_linearpattern002_8, mode=Mode.SUBTRACT)


solid = part.part
